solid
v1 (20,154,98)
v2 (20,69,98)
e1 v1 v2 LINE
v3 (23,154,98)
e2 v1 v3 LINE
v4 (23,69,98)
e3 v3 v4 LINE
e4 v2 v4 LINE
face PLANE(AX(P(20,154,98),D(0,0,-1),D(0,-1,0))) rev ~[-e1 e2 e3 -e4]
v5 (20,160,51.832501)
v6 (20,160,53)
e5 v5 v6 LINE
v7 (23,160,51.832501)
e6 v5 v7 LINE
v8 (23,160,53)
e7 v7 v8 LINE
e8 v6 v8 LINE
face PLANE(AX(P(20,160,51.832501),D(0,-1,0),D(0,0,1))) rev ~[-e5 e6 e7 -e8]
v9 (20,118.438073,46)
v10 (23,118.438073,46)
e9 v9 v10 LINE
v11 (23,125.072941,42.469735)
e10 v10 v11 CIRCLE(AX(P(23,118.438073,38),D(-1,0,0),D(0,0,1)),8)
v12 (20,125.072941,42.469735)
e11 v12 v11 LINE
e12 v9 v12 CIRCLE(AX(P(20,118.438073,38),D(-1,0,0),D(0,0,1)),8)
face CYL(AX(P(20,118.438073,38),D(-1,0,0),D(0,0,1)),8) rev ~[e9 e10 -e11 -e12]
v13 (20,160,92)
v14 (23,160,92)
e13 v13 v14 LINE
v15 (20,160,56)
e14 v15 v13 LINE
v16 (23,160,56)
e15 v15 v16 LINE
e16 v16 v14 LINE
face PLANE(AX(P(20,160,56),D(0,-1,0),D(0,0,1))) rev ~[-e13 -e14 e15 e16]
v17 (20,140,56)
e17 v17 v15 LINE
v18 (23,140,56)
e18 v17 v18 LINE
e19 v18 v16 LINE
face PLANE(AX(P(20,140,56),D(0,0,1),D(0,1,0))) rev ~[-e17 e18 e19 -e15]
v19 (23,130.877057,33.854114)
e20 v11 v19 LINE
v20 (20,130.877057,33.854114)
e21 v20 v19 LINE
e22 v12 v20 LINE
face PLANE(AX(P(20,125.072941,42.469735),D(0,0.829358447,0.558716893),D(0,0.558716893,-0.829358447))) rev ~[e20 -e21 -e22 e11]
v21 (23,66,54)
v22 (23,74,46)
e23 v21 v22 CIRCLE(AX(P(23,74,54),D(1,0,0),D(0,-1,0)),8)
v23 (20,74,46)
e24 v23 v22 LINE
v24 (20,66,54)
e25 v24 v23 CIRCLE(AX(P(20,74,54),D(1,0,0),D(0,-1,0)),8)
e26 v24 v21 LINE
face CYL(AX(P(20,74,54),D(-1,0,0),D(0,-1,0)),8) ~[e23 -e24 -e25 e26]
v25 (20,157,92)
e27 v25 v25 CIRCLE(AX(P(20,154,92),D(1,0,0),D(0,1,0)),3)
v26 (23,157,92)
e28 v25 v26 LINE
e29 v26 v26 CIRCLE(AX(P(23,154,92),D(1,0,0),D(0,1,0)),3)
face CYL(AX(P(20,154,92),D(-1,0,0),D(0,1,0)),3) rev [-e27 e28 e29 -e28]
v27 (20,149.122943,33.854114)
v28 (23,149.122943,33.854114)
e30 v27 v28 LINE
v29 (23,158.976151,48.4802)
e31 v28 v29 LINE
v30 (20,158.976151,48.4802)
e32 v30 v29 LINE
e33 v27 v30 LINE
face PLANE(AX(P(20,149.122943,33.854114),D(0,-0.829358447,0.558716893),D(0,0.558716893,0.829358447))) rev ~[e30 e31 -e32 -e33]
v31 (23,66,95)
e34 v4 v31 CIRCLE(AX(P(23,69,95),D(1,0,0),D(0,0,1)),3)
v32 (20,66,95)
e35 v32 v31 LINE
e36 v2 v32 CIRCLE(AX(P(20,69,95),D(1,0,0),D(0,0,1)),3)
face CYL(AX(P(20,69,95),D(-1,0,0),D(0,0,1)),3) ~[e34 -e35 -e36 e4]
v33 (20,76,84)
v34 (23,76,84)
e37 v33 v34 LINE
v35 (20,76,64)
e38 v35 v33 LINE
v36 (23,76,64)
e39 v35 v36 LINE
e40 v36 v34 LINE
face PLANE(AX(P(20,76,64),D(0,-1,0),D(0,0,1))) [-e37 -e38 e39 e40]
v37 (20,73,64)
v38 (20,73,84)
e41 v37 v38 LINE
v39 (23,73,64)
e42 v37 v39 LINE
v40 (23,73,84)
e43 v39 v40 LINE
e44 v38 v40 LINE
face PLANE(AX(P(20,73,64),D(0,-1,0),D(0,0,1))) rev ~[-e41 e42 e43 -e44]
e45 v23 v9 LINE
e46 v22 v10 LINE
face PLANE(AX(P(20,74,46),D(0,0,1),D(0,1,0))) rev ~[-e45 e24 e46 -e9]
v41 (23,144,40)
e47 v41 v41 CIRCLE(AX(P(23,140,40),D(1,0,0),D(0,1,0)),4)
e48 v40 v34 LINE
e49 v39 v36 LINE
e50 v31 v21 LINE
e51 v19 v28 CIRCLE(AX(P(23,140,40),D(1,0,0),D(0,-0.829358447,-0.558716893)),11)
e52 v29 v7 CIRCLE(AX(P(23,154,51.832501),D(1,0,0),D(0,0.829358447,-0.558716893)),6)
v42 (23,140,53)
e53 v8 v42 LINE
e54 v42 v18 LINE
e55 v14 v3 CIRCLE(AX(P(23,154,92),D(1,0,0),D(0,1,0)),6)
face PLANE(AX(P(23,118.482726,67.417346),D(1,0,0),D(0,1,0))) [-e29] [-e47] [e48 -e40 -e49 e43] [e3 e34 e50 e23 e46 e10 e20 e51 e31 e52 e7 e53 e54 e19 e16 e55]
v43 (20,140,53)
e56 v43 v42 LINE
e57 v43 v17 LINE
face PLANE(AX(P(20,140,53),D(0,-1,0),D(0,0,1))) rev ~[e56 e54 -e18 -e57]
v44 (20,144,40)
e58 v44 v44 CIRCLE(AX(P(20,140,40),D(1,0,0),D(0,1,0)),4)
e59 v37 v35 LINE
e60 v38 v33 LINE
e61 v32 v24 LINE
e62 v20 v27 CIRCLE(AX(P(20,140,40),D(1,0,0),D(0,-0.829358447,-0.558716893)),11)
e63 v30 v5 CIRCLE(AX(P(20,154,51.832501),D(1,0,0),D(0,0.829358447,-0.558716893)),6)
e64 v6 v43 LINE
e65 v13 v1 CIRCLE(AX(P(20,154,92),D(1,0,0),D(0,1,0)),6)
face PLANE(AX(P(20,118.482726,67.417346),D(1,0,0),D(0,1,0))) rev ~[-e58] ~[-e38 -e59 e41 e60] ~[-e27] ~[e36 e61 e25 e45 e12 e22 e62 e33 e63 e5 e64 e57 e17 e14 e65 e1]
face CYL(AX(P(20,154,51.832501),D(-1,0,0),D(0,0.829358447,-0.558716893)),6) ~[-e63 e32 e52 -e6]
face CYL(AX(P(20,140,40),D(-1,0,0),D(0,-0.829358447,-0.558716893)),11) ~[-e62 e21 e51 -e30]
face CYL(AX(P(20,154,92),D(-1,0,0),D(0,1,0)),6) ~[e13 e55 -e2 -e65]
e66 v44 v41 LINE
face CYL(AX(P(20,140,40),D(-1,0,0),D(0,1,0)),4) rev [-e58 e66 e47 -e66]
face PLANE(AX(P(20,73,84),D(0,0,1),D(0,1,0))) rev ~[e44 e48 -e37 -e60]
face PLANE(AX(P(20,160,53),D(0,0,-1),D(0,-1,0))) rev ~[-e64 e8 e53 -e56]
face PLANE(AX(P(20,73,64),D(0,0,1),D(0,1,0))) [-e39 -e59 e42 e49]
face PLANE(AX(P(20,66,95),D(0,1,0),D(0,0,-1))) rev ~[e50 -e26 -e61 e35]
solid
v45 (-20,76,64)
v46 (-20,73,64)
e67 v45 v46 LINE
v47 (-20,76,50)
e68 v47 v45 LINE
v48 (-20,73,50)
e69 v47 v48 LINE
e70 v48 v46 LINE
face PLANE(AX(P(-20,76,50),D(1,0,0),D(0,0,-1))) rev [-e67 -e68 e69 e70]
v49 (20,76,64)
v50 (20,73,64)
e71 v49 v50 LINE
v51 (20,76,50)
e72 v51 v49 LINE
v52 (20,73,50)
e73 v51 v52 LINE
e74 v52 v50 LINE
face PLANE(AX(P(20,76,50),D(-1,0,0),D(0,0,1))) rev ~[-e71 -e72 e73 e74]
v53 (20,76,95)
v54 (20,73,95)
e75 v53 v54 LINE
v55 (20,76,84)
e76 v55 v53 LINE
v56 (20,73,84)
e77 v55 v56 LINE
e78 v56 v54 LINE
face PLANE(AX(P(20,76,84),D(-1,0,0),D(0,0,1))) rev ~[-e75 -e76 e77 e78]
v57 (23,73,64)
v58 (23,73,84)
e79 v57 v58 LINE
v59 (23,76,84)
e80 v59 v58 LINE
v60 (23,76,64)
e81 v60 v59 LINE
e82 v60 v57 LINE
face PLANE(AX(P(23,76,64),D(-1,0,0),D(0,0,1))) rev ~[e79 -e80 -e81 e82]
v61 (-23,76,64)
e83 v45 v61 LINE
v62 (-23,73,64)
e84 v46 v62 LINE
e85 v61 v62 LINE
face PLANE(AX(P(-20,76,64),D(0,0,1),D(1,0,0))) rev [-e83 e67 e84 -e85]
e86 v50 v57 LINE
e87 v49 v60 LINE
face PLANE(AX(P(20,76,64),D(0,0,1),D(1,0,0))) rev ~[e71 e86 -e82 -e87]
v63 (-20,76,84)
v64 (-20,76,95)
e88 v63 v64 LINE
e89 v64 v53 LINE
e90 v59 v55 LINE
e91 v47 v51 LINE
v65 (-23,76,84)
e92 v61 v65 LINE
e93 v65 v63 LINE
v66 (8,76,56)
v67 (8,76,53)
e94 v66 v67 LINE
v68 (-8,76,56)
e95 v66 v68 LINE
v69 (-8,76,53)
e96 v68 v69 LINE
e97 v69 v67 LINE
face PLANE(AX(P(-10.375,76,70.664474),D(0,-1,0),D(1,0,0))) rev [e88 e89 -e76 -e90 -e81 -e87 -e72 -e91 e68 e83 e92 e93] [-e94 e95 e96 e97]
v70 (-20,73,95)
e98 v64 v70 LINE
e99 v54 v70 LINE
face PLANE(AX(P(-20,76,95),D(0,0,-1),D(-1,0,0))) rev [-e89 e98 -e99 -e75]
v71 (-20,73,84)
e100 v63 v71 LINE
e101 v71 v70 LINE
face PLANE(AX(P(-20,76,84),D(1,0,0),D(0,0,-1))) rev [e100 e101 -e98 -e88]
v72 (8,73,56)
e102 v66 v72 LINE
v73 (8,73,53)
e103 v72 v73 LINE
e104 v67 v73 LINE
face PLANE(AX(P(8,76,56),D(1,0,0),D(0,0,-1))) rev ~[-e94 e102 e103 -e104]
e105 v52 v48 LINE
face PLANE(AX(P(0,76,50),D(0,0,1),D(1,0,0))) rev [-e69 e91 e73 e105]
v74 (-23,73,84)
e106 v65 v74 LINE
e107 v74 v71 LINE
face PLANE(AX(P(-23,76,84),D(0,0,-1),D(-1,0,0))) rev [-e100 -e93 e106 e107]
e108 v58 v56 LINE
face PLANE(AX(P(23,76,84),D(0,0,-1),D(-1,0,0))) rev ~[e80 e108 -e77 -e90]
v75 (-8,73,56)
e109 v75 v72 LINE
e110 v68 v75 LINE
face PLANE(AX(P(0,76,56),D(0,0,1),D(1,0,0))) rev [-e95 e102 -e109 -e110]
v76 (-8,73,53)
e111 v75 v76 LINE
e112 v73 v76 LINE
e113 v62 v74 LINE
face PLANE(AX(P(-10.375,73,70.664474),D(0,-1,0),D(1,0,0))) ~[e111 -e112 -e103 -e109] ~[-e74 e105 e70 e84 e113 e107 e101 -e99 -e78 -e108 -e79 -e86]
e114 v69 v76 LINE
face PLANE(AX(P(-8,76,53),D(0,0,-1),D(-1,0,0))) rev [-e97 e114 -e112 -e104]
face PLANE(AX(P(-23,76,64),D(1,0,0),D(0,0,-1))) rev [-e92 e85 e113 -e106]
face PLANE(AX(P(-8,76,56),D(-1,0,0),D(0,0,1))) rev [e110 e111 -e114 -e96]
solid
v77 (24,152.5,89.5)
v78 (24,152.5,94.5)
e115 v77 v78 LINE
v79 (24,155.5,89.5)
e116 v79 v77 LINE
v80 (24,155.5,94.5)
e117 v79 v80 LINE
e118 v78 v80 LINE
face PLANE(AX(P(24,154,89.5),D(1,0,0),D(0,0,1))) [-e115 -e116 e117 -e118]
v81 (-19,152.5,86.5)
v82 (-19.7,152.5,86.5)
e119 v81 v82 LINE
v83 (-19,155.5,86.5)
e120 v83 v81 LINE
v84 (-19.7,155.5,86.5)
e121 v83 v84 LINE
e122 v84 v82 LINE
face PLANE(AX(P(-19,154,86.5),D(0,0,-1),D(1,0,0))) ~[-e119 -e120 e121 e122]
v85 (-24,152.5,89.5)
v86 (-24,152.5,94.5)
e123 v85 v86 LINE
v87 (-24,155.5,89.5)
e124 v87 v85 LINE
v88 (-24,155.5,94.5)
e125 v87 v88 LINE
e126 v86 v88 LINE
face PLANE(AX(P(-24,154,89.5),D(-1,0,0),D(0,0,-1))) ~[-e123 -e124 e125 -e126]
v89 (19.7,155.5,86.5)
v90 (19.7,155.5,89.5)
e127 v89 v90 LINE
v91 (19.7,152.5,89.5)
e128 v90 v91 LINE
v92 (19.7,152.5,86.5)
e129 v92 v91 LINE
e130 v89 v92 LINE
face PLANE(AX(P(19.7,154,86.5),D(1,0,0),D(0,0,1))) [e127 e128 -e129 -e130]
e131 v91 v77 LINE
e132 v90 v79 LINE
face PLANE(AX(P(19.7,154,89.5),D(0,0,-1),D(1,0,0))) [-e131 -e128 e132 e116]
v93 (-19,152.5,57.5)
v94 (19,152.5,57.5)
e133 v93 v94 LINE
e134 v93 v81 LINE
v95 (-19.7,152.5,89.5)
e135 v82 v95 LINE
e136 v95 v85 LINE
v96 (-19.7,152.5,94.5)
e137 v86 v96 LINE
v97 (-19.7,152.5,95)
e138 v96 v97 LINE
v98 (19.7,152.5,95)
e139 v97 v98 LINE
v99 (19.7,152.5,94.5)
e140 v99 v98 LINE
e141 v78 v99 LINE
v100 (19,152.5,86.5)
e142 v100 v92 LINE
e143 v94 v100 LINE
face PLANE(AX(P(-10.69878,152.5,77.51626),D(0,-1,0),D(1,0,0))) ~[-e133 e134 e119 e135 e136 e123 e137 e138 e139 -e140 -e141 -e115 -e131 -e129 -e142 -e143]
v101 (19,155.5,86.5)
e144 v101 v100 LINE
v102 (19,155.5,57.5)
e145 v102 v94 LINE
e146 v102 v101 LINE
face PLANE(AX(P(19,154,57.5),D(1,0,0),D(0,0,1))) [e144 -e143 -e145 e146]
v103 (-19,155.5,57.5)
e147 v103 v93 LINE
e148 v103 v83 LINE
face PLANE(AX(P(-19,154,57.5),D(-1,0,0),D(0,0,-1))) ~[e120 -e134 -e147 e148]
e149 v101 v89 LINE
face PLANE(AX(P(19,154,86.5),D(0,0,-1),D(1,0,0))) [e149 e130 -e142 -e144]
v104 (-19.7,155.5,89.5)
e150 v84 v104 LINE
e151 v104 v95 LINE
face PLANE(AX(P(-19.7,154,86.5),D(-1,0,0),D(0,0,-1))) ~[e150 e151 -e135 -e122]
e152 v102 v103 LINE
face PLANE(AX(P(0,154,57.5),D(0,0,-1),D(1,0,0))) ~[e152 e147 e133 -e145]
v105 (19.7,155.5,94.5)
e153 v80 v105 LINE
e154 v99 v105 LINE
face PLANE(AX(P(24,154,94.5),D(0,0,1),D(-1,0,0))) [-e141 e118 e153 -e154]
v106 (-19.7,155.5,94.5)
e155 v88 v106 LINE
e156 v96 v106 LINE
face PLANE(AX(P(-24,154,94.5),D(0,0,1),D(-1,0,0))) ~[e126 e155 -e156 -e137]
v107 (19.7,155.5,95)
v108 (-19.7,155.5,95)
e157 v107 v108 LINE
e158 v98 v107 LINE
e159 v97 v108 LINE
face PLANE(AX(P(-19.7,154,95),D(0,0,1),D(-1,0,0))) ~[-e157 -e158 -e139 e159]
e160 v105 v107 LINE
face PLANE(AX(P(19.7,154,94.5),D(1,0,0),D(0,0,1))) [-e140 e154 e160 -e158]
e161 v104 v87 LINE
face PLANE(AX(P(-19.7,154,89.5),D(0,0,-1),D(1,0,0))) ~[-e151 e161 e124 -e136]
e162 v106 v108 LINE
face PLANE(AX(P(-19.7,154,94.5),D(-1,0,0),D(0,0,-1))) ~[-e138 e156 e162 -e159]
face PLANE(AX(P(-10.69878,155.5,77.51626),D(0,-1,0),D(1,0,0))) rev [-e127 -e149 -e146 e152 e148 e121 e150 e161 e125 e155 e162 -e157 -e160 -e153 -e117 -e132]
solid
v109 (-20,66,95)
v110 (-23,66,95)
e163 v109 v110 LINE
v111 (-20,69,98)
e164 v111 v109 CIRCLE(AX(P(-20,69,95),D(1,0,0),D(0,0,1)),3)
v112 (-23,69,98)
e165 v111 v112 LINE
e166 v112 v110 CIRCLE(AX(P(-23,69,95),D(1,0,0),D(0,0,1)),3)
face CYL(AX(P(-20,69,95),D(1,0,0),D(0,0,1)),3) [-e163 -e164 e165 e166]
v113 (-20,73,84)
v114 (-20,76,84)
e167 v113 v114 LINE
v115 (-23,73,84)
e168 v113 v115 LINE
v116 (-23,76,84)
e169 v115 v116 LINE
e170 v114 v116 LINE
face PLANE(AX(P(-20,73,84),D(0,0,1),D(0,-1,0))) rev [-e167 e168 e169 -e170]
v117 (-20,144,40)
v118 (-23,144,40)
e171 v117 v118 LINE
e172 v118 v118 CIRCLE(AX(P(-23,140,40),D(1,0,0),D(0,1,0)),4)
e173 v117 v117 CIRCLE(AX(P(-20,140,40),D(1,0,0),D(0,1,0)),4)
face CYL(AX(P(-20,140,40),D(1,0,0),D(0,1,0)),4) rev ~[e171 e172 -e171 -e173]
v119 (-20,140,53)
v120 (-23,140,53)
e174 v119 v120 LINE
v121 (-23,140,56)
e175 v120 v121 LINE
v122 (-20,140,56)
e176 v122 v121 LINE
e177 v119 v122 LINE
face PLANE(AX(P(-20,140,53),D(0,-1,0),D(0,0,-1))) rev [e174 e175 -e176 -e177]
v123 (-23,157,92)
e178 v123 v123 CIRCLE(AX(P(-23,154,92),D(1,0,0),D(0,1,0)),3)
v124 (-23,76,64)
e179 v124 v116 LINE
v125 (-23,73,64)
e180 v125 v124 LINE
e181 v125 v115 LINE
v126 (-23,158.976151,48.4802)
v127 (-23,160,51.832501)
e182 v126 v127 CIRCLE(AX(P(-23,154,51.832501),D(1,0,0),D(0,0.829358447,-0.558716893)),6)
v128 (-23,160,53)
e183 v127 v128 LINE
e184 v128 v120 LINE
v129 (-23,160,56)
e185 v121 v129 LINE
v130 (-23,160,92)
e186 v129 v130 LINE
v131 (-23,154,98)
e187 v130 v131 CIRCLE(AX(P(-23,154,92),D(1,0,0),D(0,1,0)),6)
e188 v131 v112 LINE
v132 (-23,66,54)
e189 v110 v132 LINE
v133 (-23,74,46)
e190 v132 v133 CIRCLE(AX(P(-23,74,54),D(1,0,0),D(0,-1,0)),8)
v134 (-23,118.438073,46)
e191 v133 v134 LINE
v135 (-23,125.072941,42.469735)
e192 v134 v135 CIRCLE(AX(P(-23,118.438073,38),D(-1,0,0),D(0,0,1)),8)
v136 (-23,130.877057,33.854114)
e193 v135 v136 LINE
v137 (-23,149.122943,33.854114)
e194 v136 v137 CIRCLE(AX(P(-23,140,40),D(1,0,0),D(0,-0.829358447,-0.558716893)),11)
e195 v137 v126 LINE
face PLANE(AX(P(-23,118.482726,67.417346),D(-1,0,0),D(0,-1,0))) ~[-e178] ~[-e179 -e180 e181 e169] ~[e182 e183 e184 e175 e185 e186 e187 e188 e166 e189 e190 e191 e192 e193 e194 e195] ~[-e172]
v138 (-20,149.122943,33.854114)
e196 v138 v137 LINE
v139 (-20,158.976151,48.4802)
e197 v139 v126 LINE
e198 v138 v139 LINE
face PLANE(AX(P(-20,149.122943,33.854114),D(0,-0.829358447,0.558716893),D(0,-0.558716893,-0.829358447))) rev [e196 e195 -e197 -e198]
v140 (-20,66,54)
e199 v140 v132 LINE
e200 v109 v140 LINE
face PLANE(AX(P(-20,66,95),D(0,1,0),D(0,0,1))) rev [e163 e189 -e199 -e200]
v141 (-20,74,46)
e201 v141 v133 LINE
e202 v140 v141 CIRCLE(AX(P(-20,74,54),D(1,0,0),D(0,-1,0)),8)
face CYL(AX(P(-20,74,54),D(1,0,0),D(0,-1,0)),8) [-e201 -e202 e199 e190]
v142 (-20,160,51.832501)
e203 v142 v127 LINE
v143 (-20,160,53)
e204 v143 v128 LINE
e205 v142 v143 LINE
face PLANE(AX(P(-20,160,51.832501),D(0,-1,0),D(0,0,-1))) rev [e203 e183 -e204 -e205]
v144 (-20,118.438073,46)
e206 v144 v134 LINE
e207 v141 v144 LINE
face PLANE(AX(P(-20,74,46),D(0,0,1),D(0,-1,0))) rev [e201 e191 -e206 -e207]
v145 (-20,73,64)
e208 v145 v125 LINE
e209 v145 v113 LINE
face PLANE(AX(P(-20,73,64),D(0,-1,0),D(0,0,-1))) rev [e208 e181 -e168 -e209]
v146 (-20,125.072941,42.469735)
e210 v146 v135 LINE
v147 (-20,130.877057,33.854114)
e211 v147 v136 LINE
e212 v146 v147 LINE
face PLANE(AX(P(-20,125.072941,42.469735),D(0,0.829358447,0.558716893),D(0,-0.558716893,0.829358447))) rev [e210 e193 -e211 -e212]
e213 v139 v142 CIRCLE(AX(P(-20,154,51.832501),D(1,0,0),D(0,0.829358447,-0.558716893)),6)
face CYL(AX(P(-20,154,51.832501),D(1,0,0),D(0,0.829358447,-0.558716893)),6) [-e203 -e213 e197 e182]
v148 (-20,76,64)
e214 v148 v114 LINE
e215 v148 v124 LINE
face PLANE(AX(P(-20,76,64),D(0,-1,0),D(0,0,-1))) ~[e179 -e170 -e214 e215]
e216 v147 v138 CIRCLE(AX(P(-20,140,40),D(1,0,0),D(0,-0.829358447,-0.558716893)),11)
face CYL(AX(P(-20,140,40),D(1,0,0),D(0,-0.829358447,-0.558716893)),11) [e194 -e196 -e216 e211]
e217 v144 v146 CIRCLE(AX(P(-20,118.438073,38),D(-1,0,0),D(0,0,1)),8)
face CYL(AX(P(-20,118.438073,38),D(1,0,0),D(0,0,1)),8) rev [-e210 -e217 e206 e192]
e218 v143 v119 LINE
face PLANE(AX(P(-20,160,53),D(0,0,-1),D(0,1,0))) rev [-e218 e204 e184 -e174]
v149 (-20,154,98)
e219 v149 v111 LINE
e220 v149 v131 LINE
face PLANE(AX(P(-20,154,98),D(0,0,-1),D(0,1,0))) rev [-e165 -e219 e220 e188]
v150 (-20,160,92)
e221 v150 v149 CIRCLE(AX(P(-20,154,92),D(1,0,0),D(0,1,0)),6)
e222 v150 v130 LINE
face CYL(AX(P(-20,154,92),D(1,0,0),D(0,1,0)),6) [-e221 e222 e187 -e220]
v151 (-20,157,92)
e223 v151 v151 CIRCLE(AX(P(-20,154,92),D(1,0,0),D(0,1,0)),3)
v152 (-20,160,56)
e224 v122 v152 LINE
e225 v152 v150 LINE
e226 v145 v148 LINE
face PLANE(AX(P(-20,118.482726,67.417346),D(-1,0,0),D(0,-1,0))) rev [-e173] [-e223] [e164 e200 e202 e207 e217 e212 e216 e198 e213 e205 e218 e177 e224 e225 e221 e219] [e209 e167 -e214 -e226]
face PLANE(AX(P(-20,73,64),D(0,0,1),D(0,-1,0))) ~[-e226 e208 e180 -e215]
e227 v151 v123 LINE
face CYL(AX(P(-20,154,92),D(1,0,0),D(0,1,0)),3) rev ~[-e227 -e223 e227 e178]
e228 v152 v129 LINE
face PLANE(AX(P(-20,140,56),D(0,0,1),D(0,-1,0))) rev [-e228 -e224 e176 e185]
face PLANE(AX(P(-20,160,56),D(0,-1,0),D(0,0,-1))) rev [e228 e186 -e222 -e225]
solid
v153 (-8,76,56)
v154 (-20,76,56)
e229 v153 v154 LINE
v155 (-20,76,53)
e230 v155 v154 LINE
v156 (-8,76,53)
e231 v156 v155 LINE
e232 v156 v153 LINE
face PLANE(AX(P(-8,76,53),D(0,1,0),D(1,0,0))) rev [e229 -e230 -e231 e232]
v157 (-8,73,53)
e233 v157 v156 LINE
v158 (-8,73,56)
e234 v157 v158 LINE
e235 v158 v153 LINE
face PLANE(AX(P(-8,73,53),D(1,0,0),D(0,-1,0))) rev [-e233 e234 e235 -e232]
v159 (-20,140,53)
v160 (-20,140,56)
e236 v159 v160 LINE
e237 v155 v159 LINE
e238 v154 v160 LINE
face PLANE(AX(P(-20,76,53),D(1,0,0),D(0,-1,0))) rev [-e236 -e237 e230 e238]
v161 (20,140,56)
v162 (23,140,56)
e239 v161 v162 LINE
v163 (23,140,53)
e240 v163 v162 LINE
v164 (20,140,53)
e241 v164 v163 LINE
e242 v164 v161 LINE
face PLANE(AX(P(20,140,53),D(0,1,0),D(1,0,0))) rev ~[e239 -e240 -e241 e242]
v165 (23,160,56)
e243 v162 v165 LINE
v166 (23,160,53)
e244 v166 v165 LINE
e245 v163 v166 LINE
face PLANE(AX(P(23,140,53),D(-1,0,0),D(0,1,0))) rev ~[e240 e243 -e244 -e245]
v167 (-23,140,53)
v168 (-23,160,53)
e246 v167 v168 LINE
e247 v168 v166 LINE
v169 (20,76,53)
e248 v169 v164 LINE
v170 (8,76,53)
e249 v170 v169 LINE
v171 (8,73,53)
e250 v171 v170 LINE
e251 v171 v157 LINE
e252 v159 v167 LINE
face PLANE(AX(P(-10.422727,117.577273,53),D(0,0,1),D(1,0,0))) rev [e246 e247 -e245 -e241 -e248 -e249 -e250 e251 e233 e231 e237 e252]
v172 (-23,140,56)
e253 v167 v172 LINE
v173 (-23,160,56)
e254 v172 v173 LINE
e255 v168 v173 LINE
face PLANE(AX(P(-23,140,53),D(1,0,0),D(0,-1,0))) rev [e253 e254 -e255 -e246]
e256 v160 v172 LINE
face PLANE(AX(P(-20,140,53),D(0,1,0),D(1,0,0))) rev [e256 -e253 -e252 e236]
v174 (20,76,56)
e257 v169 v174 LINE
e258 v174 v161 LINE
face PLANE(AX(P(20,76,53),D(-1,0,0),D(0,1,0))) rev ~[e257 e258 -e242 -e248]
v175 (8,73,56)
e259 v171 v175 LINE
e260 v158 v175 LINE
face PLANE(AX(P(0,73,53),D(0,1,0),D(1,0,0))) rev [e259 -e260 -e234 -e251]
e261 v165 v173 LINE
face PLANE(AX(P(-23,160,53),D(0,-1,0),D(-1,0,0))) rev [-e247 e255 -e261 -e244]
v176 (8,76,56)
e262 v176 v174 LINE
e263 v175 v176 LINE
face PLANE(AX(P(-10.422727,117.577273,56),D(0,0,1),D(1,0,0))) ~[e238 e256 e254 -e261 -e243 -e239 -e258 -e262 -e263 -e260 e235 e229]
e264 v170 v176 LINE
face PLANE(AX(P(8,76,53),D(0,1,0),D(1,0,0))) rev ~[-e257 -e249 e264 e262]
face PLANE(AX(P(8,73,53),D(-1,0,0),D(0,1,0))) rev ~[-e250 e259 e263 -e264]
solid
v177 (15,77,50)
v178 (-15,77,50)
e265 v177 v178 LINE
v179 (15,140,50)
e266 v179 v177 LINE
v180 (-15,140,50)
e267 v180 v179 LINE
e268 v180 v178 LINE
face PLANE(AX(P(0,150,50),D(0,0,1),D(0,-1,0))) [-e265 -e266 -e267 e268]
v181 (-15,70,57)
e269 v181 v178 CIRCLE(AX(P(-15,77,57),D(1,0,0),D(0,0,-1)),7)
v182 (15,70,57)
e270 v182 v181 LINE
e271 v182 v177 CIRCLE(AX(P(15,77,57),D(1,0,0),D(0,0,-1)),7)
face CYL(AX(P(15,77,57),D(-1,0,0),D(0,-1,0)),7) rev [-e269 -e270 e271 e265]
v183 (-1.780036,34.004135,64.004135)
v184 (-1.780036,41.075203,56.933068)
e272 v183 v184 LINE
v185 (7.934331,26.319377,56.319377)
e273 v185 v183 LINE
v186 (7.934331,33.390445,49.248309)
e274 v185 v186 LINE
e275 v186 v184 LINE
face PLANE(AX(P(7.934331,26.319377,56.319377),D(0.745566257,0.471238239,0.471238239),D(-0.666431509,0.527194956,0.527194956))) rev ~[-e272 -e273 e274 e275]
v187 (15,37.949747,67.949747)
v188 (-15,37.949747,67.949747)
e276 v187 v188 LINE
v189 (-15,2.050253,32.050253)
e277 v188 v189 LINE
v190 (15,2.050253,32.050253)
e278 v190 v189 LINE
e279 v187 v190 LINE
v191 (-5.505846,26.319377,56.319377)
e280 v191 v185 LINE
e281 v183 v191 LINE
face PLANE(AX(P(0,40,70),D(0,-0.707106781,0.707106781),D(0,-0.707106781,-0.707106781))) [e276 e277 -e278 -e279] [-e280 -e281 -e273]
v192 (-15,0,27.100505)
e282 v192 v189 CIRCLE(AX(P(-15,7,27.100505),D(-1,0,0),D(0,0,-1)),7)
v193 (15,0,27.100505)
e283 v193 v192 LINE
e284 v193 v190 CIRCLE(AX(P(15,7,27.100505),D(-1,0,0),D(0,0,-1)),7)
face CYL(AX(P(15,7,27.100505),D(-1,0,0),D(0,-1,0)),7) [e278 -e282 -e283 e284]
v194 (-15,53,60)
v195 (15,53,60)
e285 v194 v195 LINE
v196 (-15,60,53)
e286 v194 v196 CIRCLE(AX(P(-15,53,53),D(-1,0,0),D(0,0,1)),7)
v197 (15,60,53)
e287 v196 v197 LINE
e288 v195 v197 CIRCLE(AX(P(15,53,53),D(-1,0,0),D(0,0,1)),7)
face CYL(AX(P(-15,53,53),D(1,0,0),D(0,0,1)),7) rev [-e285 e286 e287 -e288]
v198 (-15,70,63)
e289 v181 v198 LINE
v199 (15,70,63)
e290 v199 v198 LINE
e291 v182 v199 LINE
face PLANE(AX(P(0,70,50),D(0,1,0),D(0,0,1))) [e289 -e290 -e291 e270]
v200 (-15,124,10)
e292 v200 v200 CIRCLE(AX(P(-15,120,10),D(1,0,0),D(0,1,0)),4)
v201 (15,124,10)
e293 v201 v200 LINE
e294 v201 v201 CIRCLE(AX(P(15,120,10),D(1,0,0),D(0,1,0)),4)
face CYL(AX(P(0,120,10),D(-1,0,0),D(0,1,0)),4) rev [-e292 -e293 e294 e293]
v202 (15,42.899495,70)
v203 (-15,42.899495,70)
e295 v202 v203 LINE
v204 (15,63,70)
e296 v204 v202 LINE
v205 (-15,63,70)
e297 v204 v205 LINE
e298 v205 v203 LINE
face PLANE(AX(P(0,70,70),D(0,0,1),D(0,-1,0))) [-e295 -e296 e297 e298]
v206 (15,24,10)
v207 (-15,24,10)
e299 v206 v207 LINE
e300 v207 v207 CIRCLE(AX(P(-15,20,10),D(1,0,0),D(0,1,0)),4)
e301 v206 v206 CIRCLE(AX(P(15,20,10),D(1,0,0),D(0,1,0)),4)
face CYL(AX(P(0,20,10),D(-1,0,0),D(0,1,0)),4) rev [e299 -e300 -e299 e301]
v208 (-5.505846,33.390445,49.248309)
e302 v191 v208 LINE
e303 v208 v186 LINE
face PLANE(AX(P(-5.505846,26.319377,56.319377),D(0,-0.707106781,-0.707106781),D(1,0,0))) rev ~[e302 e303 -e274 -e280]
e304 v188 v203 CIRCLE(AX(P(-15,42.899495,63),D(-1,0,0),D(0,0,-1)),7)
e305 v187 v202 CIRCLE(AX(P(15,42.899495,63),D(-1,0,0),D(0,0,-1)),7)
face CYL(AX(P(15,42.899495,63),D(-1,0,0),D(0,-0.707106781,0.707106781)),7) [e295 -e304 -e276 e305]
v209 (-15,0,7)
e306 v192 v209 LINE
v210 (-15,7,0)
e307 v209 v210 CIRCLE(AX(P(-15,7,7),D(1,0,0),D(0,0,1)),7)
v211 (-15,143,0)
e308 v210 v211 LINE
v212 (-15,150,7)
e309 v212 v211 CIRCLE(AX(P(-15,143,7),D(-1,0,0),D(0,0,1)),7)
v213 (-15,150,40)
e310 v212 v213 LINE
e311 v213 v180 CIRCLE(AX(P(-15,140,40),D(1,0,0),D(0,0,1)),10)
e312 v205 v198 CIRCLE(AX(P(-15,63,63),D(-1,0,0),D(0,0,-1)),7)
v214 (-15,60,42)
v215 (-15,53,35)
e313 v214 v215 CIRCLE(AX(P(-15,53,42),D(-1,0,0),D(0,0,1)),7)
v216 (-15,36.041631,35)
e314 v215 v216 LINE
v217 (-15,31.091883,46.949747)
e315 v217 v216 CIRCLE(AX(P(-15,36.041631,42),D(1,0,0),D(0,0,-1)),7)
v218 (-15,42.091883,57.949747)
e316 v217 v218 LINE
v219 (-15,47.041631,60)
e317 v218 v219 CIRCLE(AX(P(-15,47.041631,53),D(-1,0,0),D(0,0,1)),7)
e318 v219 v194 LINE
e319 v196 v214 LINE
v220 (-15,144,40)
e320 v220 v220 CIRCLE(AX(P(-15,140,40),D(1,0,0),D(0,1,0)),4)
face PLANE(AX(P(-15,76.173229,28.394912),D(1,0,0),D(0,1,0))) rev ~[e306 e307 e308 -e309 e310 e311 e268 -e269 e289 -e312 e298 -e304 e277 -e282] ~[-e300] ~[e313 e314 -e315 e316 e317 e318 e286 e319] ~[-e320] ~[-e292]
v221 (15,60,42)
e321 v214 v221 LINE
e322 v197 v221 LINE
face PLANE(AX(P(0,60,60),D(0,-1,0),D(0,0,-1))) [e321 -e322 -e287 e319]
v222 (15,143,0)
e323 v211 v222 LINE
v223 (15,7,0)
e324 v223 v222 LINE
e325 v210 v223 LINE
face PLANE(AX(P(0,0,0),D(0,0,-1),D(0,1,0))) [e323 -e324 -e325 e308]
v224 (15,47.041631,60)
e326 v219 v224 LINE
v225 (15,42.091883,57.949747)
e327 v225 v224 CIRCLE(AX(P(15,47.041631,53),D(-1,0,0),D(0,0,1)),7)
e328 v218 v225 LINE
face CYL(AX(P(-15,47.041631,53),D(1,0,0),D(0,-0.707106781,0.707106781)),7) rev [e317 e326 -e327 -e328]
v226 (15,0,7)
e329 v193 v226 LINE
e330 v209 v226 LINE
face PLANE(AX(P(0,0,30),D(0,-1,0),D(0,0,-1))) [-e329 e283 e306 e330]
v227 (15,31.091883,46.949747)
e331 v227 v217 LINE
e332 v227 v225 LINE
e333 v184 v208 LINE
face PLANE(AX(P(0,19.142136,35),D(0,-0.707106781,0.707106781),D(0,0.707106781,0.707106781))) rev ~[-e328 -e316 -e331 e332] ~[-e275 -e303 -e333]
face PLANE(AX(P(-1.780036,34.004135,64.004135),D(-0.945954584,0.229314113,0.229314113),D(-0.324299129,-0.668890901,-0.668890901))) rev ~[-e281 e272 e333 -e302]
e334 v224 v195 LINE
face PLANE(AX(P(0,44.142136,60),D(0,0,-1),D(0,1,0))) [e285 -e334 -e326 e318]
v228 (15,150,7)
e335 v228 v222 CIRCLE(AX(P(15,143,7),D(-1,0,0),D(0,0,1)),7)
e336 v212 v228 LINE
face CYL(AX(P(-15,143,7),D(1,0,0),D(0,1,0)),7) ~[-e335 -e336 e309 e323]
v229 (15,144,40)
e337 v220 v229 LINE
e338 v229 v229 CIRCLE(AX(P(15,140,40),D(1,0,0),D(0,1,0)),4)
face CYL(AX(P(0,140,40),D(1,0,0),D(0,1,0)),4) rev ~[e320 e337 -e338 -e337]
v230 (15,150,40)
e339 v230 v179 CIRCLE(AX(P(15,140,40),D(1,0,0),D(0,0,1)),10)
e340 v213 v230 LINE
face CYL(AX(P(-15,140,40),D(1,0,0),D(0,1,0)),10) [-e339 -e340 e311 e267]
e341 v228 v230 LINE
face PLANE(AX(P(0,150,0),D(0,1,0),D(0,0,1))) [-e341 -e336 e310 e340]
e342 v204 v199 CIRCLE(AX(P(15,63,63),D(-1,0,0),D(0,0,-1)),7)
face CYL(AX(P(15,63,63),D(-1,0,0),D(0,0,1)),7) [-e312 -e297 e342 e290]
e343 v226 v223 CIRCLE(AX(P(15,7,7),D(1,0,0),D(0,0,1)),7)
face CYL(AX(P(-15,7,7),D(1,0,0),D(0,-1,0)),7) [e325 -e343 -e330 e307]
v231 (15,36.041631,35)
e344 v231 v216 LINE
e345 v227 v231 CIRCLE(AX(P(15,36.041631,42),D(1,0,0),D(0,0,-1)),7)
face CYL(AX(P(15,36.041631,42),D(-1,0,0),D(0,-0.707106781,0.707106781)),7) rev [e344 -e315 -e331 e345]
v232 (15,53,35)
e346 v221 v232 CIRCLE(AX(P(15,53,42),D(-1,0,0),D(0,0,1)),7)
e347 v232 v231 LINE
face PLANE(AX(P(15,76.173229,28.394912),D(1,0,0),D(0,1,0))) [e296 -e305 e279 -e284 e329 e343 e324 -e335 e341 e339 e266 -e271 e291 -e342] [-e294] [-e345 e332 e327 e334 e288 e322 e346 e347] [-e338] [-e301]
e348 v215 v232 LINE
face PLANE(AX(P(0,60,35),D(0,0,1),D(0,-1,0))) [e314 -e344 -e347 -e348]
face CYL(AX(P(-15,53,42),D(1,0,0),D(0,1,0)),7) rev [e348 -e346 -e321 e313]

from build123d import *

# Parameters (mm, degrees)
F0_R      = 4
F1_DEPTH  = 15
F2_R      = 7
F4_DEPTH  = 10
F5_R      = 10
F6_R      = 4
F7_DEPTH  = 55.49347
F9_R      = 4
F9_W      = 3
F9_H      = 20
F9_R_2    = 3
F10_DEPTH = 3
F13_DEPTH = 3
F16_DEPTH = 3
F20_DEPTH = 1.5


with BuildPart() as f1:
    # F0 (on Right) → F1 (new body, symmetric)
    with BuildSketch(Plane.YZ):
        Polygon((0, 30), (0, 0), (150, 0), (150, 50), (70, 50), (70, 70), (40, 70), align=None)
        with Locations((20, 10)):
            Circle(F0_R, mode=Mode.SUBTRACT)
        with Locations((120, 10)):
            Circle(F0_R, mode=Mode.SUBTRACT)
        Polygon((19.1421356237, 35), (44.1421356237, 60), (60, 60), (60, 35), align=None, mode=Mode.SUBTRACT)
    extrude(amount=F1_DEPTH, both=True)

    # F2
    f2_edges = [f1.edges().sort_by_distance(p)[0] for p in [
        (0, 40, 70),
        (0, 70, 70),
        (0, 0, 30),
        (0, 0, 0),
        (0, 150, 0),
        (0, 60, 35),
        (0, 44.142136, 60),
        (0, 19.142136, 35),
        (0, 60, 60),
        (0, 70, 50),
    ]]
    fillet(f2_edges, radius=F2_R)

    # F3 (on face) → F4 (cut, through all)
    with BuildSketch(Plane(origin=(0, -15, 15), x_dir=(1, 0, 0), z_dir=(0, -0.7071067812, 0.7071067812))):
        Polygon((7.9343309626, 58.4344230592), (-1.7800361384, 69.3023130298), (-5.5058463477, 58.4344230592), align=None)
    extrude(amount=-F4_DEPTH, mode=Mode.SUBTRACT)

    # F5
    f5_edges = [f1.edges().sort_by_distance(p)[0] for p in [
        (0, 150, 50),
    ]]
    fillet(f5_edges, radius=F5_R)

    # F6 (on Right) → F7 (cut, symmetric)
    with BuildSketch(Plane.YZ):
        with Locations((140, 40)):
            Circle(F6_R)
    extrude(amount=F7_DEPTH, both=True, mode=Mode.SUBTRACT)


with BuildPart() as f10:
    # F9 (on offset) → F10 (new body)
    with BuildSketch(Plane.YZ.offset(20)):
        with BuildLine():
            Line((154, 98), (69, 98))
            ThreePointArc((69, 98), (66.8786796564, 97.1213203436), (66, 95))
            Line((66, 95), (66, 54))
            ThreePointArc((66, 54), (68.3431457505, 48.3431457505), (74, 46))
            Line((74, 46), (118.4380730854, 46))
            ThreePointArc((118.4380730854, 46), (122.1958728955, 45.062502431), (125.0729406588, 42.4697351469))
            Line((125.0729406588, 42.4697351469), (130.8770570865, 33.8541141731))
            ThreePointArc((130.8770570865, 33.8541141731), (140, 29), (149.1229429135, 33.8541141731))
            Line((149.1229429135, 33.8541141731), (158.9761506801, 48.4801997367))
            ThreePointArc((158.9761506801, 48.4801997367), (159.7383318168, 50.0799178721), (160, 51.8325010969))
            Line((160, 51.8325010969), (160, 53))
            Line((160, 53), (140, 53))
            Line((140, 53), (140, 56))
            Line((140, 56), (160, 56))
            Line((160, 56), (160, 92))
            ThreePointArc((160, 92), (158.2426406871, 96.2426406871), (154, 98))
        make_face()
        with Locations((140, 40)):
            Circle(F9_R, mode=Mode.SUBTRACT)
        with Locations((74.5, 74)):
            Rectangle(F9_W, F9_H, mode=Mode.SUBTRACT)
        with Locations((154, 92)):
            Circle(F9_R_2, mode=Mode.SUBTRACT)
    extrude(amount=F10_DEPTH)


with BuildPart() as f11_1:
    # F11: instance of F10
    add(f10.part.mirror(Plane.YZ))


with BuildPart() as f13:
    # F12 (on face) → F13 (new body)
    with BuildSketch(Plane.XY.offset(53)):
        Polygon((8, 76), (20, 76), (20, 140), (23, 140), (23, 160), (20, 160), (0, 160), (0, 76), (0, 73), (8, 73), align=None)
    extrude(amount=F13_DEPTH)

    # F14: F13 across face


with BuildPart() as f13_1:
    add(f13.part)
    add(f13.part.mirror(Plane(origin=(0, 116.5, 54.5), x_dir=(0, -1, 0), z_dir=(-1, 0, 0))))


with BuildPart() as f16:
    # F15 (on face) → F16 (new body)
    with BuildSketch(Plane.XZ.offset(-76)):
        Polygon((20, 50), (20, 64), (23, 64), (23, 84), (20, 84), (20, 95), (0, 95), (0, 56), (8, 56), (8, 53), (0, 53), (0, 50), align=None)
    extrude(amount=F16_DEPTH)

    # F17: F16 across face


with BuildPart() as f16_1:
    add(f16.part)
    add(f16.part.mirror(Plane(origin=(0, 74.5, 75.5), x_dir=(0, -1, 0), z_dir=(-1, 0, 0))))


with BuildPart() as f20:
    # F19 (on plane+point) → F20 (new body, symmetric)
    with BuildSketch(Plane.XZ.offset(-154)):
        Polygon((19.7, 95), (0, 95), (0, 57.5), (19, 57.5), (19, 86.5), (19.7, 86.5), (19.7, 89.5), (24, 89.5), (24, 94.5), (19.7, 94.5), align=None)
    extrude(amount=F20_DEPTH, both=True)

    # F21: F20 across face


with BuildPart() as f20_1:
    add(f20.part)
    add(f20.part.mirror(Plane(origin=(0, 154, 76.25), x_dir=(0, -1, 0), z_dir=(-1, 0, 0))))


solid = Compound([f1.part, f10.part, f11_1.part, f13_1.part, f16_1.part, f20_1.part])
